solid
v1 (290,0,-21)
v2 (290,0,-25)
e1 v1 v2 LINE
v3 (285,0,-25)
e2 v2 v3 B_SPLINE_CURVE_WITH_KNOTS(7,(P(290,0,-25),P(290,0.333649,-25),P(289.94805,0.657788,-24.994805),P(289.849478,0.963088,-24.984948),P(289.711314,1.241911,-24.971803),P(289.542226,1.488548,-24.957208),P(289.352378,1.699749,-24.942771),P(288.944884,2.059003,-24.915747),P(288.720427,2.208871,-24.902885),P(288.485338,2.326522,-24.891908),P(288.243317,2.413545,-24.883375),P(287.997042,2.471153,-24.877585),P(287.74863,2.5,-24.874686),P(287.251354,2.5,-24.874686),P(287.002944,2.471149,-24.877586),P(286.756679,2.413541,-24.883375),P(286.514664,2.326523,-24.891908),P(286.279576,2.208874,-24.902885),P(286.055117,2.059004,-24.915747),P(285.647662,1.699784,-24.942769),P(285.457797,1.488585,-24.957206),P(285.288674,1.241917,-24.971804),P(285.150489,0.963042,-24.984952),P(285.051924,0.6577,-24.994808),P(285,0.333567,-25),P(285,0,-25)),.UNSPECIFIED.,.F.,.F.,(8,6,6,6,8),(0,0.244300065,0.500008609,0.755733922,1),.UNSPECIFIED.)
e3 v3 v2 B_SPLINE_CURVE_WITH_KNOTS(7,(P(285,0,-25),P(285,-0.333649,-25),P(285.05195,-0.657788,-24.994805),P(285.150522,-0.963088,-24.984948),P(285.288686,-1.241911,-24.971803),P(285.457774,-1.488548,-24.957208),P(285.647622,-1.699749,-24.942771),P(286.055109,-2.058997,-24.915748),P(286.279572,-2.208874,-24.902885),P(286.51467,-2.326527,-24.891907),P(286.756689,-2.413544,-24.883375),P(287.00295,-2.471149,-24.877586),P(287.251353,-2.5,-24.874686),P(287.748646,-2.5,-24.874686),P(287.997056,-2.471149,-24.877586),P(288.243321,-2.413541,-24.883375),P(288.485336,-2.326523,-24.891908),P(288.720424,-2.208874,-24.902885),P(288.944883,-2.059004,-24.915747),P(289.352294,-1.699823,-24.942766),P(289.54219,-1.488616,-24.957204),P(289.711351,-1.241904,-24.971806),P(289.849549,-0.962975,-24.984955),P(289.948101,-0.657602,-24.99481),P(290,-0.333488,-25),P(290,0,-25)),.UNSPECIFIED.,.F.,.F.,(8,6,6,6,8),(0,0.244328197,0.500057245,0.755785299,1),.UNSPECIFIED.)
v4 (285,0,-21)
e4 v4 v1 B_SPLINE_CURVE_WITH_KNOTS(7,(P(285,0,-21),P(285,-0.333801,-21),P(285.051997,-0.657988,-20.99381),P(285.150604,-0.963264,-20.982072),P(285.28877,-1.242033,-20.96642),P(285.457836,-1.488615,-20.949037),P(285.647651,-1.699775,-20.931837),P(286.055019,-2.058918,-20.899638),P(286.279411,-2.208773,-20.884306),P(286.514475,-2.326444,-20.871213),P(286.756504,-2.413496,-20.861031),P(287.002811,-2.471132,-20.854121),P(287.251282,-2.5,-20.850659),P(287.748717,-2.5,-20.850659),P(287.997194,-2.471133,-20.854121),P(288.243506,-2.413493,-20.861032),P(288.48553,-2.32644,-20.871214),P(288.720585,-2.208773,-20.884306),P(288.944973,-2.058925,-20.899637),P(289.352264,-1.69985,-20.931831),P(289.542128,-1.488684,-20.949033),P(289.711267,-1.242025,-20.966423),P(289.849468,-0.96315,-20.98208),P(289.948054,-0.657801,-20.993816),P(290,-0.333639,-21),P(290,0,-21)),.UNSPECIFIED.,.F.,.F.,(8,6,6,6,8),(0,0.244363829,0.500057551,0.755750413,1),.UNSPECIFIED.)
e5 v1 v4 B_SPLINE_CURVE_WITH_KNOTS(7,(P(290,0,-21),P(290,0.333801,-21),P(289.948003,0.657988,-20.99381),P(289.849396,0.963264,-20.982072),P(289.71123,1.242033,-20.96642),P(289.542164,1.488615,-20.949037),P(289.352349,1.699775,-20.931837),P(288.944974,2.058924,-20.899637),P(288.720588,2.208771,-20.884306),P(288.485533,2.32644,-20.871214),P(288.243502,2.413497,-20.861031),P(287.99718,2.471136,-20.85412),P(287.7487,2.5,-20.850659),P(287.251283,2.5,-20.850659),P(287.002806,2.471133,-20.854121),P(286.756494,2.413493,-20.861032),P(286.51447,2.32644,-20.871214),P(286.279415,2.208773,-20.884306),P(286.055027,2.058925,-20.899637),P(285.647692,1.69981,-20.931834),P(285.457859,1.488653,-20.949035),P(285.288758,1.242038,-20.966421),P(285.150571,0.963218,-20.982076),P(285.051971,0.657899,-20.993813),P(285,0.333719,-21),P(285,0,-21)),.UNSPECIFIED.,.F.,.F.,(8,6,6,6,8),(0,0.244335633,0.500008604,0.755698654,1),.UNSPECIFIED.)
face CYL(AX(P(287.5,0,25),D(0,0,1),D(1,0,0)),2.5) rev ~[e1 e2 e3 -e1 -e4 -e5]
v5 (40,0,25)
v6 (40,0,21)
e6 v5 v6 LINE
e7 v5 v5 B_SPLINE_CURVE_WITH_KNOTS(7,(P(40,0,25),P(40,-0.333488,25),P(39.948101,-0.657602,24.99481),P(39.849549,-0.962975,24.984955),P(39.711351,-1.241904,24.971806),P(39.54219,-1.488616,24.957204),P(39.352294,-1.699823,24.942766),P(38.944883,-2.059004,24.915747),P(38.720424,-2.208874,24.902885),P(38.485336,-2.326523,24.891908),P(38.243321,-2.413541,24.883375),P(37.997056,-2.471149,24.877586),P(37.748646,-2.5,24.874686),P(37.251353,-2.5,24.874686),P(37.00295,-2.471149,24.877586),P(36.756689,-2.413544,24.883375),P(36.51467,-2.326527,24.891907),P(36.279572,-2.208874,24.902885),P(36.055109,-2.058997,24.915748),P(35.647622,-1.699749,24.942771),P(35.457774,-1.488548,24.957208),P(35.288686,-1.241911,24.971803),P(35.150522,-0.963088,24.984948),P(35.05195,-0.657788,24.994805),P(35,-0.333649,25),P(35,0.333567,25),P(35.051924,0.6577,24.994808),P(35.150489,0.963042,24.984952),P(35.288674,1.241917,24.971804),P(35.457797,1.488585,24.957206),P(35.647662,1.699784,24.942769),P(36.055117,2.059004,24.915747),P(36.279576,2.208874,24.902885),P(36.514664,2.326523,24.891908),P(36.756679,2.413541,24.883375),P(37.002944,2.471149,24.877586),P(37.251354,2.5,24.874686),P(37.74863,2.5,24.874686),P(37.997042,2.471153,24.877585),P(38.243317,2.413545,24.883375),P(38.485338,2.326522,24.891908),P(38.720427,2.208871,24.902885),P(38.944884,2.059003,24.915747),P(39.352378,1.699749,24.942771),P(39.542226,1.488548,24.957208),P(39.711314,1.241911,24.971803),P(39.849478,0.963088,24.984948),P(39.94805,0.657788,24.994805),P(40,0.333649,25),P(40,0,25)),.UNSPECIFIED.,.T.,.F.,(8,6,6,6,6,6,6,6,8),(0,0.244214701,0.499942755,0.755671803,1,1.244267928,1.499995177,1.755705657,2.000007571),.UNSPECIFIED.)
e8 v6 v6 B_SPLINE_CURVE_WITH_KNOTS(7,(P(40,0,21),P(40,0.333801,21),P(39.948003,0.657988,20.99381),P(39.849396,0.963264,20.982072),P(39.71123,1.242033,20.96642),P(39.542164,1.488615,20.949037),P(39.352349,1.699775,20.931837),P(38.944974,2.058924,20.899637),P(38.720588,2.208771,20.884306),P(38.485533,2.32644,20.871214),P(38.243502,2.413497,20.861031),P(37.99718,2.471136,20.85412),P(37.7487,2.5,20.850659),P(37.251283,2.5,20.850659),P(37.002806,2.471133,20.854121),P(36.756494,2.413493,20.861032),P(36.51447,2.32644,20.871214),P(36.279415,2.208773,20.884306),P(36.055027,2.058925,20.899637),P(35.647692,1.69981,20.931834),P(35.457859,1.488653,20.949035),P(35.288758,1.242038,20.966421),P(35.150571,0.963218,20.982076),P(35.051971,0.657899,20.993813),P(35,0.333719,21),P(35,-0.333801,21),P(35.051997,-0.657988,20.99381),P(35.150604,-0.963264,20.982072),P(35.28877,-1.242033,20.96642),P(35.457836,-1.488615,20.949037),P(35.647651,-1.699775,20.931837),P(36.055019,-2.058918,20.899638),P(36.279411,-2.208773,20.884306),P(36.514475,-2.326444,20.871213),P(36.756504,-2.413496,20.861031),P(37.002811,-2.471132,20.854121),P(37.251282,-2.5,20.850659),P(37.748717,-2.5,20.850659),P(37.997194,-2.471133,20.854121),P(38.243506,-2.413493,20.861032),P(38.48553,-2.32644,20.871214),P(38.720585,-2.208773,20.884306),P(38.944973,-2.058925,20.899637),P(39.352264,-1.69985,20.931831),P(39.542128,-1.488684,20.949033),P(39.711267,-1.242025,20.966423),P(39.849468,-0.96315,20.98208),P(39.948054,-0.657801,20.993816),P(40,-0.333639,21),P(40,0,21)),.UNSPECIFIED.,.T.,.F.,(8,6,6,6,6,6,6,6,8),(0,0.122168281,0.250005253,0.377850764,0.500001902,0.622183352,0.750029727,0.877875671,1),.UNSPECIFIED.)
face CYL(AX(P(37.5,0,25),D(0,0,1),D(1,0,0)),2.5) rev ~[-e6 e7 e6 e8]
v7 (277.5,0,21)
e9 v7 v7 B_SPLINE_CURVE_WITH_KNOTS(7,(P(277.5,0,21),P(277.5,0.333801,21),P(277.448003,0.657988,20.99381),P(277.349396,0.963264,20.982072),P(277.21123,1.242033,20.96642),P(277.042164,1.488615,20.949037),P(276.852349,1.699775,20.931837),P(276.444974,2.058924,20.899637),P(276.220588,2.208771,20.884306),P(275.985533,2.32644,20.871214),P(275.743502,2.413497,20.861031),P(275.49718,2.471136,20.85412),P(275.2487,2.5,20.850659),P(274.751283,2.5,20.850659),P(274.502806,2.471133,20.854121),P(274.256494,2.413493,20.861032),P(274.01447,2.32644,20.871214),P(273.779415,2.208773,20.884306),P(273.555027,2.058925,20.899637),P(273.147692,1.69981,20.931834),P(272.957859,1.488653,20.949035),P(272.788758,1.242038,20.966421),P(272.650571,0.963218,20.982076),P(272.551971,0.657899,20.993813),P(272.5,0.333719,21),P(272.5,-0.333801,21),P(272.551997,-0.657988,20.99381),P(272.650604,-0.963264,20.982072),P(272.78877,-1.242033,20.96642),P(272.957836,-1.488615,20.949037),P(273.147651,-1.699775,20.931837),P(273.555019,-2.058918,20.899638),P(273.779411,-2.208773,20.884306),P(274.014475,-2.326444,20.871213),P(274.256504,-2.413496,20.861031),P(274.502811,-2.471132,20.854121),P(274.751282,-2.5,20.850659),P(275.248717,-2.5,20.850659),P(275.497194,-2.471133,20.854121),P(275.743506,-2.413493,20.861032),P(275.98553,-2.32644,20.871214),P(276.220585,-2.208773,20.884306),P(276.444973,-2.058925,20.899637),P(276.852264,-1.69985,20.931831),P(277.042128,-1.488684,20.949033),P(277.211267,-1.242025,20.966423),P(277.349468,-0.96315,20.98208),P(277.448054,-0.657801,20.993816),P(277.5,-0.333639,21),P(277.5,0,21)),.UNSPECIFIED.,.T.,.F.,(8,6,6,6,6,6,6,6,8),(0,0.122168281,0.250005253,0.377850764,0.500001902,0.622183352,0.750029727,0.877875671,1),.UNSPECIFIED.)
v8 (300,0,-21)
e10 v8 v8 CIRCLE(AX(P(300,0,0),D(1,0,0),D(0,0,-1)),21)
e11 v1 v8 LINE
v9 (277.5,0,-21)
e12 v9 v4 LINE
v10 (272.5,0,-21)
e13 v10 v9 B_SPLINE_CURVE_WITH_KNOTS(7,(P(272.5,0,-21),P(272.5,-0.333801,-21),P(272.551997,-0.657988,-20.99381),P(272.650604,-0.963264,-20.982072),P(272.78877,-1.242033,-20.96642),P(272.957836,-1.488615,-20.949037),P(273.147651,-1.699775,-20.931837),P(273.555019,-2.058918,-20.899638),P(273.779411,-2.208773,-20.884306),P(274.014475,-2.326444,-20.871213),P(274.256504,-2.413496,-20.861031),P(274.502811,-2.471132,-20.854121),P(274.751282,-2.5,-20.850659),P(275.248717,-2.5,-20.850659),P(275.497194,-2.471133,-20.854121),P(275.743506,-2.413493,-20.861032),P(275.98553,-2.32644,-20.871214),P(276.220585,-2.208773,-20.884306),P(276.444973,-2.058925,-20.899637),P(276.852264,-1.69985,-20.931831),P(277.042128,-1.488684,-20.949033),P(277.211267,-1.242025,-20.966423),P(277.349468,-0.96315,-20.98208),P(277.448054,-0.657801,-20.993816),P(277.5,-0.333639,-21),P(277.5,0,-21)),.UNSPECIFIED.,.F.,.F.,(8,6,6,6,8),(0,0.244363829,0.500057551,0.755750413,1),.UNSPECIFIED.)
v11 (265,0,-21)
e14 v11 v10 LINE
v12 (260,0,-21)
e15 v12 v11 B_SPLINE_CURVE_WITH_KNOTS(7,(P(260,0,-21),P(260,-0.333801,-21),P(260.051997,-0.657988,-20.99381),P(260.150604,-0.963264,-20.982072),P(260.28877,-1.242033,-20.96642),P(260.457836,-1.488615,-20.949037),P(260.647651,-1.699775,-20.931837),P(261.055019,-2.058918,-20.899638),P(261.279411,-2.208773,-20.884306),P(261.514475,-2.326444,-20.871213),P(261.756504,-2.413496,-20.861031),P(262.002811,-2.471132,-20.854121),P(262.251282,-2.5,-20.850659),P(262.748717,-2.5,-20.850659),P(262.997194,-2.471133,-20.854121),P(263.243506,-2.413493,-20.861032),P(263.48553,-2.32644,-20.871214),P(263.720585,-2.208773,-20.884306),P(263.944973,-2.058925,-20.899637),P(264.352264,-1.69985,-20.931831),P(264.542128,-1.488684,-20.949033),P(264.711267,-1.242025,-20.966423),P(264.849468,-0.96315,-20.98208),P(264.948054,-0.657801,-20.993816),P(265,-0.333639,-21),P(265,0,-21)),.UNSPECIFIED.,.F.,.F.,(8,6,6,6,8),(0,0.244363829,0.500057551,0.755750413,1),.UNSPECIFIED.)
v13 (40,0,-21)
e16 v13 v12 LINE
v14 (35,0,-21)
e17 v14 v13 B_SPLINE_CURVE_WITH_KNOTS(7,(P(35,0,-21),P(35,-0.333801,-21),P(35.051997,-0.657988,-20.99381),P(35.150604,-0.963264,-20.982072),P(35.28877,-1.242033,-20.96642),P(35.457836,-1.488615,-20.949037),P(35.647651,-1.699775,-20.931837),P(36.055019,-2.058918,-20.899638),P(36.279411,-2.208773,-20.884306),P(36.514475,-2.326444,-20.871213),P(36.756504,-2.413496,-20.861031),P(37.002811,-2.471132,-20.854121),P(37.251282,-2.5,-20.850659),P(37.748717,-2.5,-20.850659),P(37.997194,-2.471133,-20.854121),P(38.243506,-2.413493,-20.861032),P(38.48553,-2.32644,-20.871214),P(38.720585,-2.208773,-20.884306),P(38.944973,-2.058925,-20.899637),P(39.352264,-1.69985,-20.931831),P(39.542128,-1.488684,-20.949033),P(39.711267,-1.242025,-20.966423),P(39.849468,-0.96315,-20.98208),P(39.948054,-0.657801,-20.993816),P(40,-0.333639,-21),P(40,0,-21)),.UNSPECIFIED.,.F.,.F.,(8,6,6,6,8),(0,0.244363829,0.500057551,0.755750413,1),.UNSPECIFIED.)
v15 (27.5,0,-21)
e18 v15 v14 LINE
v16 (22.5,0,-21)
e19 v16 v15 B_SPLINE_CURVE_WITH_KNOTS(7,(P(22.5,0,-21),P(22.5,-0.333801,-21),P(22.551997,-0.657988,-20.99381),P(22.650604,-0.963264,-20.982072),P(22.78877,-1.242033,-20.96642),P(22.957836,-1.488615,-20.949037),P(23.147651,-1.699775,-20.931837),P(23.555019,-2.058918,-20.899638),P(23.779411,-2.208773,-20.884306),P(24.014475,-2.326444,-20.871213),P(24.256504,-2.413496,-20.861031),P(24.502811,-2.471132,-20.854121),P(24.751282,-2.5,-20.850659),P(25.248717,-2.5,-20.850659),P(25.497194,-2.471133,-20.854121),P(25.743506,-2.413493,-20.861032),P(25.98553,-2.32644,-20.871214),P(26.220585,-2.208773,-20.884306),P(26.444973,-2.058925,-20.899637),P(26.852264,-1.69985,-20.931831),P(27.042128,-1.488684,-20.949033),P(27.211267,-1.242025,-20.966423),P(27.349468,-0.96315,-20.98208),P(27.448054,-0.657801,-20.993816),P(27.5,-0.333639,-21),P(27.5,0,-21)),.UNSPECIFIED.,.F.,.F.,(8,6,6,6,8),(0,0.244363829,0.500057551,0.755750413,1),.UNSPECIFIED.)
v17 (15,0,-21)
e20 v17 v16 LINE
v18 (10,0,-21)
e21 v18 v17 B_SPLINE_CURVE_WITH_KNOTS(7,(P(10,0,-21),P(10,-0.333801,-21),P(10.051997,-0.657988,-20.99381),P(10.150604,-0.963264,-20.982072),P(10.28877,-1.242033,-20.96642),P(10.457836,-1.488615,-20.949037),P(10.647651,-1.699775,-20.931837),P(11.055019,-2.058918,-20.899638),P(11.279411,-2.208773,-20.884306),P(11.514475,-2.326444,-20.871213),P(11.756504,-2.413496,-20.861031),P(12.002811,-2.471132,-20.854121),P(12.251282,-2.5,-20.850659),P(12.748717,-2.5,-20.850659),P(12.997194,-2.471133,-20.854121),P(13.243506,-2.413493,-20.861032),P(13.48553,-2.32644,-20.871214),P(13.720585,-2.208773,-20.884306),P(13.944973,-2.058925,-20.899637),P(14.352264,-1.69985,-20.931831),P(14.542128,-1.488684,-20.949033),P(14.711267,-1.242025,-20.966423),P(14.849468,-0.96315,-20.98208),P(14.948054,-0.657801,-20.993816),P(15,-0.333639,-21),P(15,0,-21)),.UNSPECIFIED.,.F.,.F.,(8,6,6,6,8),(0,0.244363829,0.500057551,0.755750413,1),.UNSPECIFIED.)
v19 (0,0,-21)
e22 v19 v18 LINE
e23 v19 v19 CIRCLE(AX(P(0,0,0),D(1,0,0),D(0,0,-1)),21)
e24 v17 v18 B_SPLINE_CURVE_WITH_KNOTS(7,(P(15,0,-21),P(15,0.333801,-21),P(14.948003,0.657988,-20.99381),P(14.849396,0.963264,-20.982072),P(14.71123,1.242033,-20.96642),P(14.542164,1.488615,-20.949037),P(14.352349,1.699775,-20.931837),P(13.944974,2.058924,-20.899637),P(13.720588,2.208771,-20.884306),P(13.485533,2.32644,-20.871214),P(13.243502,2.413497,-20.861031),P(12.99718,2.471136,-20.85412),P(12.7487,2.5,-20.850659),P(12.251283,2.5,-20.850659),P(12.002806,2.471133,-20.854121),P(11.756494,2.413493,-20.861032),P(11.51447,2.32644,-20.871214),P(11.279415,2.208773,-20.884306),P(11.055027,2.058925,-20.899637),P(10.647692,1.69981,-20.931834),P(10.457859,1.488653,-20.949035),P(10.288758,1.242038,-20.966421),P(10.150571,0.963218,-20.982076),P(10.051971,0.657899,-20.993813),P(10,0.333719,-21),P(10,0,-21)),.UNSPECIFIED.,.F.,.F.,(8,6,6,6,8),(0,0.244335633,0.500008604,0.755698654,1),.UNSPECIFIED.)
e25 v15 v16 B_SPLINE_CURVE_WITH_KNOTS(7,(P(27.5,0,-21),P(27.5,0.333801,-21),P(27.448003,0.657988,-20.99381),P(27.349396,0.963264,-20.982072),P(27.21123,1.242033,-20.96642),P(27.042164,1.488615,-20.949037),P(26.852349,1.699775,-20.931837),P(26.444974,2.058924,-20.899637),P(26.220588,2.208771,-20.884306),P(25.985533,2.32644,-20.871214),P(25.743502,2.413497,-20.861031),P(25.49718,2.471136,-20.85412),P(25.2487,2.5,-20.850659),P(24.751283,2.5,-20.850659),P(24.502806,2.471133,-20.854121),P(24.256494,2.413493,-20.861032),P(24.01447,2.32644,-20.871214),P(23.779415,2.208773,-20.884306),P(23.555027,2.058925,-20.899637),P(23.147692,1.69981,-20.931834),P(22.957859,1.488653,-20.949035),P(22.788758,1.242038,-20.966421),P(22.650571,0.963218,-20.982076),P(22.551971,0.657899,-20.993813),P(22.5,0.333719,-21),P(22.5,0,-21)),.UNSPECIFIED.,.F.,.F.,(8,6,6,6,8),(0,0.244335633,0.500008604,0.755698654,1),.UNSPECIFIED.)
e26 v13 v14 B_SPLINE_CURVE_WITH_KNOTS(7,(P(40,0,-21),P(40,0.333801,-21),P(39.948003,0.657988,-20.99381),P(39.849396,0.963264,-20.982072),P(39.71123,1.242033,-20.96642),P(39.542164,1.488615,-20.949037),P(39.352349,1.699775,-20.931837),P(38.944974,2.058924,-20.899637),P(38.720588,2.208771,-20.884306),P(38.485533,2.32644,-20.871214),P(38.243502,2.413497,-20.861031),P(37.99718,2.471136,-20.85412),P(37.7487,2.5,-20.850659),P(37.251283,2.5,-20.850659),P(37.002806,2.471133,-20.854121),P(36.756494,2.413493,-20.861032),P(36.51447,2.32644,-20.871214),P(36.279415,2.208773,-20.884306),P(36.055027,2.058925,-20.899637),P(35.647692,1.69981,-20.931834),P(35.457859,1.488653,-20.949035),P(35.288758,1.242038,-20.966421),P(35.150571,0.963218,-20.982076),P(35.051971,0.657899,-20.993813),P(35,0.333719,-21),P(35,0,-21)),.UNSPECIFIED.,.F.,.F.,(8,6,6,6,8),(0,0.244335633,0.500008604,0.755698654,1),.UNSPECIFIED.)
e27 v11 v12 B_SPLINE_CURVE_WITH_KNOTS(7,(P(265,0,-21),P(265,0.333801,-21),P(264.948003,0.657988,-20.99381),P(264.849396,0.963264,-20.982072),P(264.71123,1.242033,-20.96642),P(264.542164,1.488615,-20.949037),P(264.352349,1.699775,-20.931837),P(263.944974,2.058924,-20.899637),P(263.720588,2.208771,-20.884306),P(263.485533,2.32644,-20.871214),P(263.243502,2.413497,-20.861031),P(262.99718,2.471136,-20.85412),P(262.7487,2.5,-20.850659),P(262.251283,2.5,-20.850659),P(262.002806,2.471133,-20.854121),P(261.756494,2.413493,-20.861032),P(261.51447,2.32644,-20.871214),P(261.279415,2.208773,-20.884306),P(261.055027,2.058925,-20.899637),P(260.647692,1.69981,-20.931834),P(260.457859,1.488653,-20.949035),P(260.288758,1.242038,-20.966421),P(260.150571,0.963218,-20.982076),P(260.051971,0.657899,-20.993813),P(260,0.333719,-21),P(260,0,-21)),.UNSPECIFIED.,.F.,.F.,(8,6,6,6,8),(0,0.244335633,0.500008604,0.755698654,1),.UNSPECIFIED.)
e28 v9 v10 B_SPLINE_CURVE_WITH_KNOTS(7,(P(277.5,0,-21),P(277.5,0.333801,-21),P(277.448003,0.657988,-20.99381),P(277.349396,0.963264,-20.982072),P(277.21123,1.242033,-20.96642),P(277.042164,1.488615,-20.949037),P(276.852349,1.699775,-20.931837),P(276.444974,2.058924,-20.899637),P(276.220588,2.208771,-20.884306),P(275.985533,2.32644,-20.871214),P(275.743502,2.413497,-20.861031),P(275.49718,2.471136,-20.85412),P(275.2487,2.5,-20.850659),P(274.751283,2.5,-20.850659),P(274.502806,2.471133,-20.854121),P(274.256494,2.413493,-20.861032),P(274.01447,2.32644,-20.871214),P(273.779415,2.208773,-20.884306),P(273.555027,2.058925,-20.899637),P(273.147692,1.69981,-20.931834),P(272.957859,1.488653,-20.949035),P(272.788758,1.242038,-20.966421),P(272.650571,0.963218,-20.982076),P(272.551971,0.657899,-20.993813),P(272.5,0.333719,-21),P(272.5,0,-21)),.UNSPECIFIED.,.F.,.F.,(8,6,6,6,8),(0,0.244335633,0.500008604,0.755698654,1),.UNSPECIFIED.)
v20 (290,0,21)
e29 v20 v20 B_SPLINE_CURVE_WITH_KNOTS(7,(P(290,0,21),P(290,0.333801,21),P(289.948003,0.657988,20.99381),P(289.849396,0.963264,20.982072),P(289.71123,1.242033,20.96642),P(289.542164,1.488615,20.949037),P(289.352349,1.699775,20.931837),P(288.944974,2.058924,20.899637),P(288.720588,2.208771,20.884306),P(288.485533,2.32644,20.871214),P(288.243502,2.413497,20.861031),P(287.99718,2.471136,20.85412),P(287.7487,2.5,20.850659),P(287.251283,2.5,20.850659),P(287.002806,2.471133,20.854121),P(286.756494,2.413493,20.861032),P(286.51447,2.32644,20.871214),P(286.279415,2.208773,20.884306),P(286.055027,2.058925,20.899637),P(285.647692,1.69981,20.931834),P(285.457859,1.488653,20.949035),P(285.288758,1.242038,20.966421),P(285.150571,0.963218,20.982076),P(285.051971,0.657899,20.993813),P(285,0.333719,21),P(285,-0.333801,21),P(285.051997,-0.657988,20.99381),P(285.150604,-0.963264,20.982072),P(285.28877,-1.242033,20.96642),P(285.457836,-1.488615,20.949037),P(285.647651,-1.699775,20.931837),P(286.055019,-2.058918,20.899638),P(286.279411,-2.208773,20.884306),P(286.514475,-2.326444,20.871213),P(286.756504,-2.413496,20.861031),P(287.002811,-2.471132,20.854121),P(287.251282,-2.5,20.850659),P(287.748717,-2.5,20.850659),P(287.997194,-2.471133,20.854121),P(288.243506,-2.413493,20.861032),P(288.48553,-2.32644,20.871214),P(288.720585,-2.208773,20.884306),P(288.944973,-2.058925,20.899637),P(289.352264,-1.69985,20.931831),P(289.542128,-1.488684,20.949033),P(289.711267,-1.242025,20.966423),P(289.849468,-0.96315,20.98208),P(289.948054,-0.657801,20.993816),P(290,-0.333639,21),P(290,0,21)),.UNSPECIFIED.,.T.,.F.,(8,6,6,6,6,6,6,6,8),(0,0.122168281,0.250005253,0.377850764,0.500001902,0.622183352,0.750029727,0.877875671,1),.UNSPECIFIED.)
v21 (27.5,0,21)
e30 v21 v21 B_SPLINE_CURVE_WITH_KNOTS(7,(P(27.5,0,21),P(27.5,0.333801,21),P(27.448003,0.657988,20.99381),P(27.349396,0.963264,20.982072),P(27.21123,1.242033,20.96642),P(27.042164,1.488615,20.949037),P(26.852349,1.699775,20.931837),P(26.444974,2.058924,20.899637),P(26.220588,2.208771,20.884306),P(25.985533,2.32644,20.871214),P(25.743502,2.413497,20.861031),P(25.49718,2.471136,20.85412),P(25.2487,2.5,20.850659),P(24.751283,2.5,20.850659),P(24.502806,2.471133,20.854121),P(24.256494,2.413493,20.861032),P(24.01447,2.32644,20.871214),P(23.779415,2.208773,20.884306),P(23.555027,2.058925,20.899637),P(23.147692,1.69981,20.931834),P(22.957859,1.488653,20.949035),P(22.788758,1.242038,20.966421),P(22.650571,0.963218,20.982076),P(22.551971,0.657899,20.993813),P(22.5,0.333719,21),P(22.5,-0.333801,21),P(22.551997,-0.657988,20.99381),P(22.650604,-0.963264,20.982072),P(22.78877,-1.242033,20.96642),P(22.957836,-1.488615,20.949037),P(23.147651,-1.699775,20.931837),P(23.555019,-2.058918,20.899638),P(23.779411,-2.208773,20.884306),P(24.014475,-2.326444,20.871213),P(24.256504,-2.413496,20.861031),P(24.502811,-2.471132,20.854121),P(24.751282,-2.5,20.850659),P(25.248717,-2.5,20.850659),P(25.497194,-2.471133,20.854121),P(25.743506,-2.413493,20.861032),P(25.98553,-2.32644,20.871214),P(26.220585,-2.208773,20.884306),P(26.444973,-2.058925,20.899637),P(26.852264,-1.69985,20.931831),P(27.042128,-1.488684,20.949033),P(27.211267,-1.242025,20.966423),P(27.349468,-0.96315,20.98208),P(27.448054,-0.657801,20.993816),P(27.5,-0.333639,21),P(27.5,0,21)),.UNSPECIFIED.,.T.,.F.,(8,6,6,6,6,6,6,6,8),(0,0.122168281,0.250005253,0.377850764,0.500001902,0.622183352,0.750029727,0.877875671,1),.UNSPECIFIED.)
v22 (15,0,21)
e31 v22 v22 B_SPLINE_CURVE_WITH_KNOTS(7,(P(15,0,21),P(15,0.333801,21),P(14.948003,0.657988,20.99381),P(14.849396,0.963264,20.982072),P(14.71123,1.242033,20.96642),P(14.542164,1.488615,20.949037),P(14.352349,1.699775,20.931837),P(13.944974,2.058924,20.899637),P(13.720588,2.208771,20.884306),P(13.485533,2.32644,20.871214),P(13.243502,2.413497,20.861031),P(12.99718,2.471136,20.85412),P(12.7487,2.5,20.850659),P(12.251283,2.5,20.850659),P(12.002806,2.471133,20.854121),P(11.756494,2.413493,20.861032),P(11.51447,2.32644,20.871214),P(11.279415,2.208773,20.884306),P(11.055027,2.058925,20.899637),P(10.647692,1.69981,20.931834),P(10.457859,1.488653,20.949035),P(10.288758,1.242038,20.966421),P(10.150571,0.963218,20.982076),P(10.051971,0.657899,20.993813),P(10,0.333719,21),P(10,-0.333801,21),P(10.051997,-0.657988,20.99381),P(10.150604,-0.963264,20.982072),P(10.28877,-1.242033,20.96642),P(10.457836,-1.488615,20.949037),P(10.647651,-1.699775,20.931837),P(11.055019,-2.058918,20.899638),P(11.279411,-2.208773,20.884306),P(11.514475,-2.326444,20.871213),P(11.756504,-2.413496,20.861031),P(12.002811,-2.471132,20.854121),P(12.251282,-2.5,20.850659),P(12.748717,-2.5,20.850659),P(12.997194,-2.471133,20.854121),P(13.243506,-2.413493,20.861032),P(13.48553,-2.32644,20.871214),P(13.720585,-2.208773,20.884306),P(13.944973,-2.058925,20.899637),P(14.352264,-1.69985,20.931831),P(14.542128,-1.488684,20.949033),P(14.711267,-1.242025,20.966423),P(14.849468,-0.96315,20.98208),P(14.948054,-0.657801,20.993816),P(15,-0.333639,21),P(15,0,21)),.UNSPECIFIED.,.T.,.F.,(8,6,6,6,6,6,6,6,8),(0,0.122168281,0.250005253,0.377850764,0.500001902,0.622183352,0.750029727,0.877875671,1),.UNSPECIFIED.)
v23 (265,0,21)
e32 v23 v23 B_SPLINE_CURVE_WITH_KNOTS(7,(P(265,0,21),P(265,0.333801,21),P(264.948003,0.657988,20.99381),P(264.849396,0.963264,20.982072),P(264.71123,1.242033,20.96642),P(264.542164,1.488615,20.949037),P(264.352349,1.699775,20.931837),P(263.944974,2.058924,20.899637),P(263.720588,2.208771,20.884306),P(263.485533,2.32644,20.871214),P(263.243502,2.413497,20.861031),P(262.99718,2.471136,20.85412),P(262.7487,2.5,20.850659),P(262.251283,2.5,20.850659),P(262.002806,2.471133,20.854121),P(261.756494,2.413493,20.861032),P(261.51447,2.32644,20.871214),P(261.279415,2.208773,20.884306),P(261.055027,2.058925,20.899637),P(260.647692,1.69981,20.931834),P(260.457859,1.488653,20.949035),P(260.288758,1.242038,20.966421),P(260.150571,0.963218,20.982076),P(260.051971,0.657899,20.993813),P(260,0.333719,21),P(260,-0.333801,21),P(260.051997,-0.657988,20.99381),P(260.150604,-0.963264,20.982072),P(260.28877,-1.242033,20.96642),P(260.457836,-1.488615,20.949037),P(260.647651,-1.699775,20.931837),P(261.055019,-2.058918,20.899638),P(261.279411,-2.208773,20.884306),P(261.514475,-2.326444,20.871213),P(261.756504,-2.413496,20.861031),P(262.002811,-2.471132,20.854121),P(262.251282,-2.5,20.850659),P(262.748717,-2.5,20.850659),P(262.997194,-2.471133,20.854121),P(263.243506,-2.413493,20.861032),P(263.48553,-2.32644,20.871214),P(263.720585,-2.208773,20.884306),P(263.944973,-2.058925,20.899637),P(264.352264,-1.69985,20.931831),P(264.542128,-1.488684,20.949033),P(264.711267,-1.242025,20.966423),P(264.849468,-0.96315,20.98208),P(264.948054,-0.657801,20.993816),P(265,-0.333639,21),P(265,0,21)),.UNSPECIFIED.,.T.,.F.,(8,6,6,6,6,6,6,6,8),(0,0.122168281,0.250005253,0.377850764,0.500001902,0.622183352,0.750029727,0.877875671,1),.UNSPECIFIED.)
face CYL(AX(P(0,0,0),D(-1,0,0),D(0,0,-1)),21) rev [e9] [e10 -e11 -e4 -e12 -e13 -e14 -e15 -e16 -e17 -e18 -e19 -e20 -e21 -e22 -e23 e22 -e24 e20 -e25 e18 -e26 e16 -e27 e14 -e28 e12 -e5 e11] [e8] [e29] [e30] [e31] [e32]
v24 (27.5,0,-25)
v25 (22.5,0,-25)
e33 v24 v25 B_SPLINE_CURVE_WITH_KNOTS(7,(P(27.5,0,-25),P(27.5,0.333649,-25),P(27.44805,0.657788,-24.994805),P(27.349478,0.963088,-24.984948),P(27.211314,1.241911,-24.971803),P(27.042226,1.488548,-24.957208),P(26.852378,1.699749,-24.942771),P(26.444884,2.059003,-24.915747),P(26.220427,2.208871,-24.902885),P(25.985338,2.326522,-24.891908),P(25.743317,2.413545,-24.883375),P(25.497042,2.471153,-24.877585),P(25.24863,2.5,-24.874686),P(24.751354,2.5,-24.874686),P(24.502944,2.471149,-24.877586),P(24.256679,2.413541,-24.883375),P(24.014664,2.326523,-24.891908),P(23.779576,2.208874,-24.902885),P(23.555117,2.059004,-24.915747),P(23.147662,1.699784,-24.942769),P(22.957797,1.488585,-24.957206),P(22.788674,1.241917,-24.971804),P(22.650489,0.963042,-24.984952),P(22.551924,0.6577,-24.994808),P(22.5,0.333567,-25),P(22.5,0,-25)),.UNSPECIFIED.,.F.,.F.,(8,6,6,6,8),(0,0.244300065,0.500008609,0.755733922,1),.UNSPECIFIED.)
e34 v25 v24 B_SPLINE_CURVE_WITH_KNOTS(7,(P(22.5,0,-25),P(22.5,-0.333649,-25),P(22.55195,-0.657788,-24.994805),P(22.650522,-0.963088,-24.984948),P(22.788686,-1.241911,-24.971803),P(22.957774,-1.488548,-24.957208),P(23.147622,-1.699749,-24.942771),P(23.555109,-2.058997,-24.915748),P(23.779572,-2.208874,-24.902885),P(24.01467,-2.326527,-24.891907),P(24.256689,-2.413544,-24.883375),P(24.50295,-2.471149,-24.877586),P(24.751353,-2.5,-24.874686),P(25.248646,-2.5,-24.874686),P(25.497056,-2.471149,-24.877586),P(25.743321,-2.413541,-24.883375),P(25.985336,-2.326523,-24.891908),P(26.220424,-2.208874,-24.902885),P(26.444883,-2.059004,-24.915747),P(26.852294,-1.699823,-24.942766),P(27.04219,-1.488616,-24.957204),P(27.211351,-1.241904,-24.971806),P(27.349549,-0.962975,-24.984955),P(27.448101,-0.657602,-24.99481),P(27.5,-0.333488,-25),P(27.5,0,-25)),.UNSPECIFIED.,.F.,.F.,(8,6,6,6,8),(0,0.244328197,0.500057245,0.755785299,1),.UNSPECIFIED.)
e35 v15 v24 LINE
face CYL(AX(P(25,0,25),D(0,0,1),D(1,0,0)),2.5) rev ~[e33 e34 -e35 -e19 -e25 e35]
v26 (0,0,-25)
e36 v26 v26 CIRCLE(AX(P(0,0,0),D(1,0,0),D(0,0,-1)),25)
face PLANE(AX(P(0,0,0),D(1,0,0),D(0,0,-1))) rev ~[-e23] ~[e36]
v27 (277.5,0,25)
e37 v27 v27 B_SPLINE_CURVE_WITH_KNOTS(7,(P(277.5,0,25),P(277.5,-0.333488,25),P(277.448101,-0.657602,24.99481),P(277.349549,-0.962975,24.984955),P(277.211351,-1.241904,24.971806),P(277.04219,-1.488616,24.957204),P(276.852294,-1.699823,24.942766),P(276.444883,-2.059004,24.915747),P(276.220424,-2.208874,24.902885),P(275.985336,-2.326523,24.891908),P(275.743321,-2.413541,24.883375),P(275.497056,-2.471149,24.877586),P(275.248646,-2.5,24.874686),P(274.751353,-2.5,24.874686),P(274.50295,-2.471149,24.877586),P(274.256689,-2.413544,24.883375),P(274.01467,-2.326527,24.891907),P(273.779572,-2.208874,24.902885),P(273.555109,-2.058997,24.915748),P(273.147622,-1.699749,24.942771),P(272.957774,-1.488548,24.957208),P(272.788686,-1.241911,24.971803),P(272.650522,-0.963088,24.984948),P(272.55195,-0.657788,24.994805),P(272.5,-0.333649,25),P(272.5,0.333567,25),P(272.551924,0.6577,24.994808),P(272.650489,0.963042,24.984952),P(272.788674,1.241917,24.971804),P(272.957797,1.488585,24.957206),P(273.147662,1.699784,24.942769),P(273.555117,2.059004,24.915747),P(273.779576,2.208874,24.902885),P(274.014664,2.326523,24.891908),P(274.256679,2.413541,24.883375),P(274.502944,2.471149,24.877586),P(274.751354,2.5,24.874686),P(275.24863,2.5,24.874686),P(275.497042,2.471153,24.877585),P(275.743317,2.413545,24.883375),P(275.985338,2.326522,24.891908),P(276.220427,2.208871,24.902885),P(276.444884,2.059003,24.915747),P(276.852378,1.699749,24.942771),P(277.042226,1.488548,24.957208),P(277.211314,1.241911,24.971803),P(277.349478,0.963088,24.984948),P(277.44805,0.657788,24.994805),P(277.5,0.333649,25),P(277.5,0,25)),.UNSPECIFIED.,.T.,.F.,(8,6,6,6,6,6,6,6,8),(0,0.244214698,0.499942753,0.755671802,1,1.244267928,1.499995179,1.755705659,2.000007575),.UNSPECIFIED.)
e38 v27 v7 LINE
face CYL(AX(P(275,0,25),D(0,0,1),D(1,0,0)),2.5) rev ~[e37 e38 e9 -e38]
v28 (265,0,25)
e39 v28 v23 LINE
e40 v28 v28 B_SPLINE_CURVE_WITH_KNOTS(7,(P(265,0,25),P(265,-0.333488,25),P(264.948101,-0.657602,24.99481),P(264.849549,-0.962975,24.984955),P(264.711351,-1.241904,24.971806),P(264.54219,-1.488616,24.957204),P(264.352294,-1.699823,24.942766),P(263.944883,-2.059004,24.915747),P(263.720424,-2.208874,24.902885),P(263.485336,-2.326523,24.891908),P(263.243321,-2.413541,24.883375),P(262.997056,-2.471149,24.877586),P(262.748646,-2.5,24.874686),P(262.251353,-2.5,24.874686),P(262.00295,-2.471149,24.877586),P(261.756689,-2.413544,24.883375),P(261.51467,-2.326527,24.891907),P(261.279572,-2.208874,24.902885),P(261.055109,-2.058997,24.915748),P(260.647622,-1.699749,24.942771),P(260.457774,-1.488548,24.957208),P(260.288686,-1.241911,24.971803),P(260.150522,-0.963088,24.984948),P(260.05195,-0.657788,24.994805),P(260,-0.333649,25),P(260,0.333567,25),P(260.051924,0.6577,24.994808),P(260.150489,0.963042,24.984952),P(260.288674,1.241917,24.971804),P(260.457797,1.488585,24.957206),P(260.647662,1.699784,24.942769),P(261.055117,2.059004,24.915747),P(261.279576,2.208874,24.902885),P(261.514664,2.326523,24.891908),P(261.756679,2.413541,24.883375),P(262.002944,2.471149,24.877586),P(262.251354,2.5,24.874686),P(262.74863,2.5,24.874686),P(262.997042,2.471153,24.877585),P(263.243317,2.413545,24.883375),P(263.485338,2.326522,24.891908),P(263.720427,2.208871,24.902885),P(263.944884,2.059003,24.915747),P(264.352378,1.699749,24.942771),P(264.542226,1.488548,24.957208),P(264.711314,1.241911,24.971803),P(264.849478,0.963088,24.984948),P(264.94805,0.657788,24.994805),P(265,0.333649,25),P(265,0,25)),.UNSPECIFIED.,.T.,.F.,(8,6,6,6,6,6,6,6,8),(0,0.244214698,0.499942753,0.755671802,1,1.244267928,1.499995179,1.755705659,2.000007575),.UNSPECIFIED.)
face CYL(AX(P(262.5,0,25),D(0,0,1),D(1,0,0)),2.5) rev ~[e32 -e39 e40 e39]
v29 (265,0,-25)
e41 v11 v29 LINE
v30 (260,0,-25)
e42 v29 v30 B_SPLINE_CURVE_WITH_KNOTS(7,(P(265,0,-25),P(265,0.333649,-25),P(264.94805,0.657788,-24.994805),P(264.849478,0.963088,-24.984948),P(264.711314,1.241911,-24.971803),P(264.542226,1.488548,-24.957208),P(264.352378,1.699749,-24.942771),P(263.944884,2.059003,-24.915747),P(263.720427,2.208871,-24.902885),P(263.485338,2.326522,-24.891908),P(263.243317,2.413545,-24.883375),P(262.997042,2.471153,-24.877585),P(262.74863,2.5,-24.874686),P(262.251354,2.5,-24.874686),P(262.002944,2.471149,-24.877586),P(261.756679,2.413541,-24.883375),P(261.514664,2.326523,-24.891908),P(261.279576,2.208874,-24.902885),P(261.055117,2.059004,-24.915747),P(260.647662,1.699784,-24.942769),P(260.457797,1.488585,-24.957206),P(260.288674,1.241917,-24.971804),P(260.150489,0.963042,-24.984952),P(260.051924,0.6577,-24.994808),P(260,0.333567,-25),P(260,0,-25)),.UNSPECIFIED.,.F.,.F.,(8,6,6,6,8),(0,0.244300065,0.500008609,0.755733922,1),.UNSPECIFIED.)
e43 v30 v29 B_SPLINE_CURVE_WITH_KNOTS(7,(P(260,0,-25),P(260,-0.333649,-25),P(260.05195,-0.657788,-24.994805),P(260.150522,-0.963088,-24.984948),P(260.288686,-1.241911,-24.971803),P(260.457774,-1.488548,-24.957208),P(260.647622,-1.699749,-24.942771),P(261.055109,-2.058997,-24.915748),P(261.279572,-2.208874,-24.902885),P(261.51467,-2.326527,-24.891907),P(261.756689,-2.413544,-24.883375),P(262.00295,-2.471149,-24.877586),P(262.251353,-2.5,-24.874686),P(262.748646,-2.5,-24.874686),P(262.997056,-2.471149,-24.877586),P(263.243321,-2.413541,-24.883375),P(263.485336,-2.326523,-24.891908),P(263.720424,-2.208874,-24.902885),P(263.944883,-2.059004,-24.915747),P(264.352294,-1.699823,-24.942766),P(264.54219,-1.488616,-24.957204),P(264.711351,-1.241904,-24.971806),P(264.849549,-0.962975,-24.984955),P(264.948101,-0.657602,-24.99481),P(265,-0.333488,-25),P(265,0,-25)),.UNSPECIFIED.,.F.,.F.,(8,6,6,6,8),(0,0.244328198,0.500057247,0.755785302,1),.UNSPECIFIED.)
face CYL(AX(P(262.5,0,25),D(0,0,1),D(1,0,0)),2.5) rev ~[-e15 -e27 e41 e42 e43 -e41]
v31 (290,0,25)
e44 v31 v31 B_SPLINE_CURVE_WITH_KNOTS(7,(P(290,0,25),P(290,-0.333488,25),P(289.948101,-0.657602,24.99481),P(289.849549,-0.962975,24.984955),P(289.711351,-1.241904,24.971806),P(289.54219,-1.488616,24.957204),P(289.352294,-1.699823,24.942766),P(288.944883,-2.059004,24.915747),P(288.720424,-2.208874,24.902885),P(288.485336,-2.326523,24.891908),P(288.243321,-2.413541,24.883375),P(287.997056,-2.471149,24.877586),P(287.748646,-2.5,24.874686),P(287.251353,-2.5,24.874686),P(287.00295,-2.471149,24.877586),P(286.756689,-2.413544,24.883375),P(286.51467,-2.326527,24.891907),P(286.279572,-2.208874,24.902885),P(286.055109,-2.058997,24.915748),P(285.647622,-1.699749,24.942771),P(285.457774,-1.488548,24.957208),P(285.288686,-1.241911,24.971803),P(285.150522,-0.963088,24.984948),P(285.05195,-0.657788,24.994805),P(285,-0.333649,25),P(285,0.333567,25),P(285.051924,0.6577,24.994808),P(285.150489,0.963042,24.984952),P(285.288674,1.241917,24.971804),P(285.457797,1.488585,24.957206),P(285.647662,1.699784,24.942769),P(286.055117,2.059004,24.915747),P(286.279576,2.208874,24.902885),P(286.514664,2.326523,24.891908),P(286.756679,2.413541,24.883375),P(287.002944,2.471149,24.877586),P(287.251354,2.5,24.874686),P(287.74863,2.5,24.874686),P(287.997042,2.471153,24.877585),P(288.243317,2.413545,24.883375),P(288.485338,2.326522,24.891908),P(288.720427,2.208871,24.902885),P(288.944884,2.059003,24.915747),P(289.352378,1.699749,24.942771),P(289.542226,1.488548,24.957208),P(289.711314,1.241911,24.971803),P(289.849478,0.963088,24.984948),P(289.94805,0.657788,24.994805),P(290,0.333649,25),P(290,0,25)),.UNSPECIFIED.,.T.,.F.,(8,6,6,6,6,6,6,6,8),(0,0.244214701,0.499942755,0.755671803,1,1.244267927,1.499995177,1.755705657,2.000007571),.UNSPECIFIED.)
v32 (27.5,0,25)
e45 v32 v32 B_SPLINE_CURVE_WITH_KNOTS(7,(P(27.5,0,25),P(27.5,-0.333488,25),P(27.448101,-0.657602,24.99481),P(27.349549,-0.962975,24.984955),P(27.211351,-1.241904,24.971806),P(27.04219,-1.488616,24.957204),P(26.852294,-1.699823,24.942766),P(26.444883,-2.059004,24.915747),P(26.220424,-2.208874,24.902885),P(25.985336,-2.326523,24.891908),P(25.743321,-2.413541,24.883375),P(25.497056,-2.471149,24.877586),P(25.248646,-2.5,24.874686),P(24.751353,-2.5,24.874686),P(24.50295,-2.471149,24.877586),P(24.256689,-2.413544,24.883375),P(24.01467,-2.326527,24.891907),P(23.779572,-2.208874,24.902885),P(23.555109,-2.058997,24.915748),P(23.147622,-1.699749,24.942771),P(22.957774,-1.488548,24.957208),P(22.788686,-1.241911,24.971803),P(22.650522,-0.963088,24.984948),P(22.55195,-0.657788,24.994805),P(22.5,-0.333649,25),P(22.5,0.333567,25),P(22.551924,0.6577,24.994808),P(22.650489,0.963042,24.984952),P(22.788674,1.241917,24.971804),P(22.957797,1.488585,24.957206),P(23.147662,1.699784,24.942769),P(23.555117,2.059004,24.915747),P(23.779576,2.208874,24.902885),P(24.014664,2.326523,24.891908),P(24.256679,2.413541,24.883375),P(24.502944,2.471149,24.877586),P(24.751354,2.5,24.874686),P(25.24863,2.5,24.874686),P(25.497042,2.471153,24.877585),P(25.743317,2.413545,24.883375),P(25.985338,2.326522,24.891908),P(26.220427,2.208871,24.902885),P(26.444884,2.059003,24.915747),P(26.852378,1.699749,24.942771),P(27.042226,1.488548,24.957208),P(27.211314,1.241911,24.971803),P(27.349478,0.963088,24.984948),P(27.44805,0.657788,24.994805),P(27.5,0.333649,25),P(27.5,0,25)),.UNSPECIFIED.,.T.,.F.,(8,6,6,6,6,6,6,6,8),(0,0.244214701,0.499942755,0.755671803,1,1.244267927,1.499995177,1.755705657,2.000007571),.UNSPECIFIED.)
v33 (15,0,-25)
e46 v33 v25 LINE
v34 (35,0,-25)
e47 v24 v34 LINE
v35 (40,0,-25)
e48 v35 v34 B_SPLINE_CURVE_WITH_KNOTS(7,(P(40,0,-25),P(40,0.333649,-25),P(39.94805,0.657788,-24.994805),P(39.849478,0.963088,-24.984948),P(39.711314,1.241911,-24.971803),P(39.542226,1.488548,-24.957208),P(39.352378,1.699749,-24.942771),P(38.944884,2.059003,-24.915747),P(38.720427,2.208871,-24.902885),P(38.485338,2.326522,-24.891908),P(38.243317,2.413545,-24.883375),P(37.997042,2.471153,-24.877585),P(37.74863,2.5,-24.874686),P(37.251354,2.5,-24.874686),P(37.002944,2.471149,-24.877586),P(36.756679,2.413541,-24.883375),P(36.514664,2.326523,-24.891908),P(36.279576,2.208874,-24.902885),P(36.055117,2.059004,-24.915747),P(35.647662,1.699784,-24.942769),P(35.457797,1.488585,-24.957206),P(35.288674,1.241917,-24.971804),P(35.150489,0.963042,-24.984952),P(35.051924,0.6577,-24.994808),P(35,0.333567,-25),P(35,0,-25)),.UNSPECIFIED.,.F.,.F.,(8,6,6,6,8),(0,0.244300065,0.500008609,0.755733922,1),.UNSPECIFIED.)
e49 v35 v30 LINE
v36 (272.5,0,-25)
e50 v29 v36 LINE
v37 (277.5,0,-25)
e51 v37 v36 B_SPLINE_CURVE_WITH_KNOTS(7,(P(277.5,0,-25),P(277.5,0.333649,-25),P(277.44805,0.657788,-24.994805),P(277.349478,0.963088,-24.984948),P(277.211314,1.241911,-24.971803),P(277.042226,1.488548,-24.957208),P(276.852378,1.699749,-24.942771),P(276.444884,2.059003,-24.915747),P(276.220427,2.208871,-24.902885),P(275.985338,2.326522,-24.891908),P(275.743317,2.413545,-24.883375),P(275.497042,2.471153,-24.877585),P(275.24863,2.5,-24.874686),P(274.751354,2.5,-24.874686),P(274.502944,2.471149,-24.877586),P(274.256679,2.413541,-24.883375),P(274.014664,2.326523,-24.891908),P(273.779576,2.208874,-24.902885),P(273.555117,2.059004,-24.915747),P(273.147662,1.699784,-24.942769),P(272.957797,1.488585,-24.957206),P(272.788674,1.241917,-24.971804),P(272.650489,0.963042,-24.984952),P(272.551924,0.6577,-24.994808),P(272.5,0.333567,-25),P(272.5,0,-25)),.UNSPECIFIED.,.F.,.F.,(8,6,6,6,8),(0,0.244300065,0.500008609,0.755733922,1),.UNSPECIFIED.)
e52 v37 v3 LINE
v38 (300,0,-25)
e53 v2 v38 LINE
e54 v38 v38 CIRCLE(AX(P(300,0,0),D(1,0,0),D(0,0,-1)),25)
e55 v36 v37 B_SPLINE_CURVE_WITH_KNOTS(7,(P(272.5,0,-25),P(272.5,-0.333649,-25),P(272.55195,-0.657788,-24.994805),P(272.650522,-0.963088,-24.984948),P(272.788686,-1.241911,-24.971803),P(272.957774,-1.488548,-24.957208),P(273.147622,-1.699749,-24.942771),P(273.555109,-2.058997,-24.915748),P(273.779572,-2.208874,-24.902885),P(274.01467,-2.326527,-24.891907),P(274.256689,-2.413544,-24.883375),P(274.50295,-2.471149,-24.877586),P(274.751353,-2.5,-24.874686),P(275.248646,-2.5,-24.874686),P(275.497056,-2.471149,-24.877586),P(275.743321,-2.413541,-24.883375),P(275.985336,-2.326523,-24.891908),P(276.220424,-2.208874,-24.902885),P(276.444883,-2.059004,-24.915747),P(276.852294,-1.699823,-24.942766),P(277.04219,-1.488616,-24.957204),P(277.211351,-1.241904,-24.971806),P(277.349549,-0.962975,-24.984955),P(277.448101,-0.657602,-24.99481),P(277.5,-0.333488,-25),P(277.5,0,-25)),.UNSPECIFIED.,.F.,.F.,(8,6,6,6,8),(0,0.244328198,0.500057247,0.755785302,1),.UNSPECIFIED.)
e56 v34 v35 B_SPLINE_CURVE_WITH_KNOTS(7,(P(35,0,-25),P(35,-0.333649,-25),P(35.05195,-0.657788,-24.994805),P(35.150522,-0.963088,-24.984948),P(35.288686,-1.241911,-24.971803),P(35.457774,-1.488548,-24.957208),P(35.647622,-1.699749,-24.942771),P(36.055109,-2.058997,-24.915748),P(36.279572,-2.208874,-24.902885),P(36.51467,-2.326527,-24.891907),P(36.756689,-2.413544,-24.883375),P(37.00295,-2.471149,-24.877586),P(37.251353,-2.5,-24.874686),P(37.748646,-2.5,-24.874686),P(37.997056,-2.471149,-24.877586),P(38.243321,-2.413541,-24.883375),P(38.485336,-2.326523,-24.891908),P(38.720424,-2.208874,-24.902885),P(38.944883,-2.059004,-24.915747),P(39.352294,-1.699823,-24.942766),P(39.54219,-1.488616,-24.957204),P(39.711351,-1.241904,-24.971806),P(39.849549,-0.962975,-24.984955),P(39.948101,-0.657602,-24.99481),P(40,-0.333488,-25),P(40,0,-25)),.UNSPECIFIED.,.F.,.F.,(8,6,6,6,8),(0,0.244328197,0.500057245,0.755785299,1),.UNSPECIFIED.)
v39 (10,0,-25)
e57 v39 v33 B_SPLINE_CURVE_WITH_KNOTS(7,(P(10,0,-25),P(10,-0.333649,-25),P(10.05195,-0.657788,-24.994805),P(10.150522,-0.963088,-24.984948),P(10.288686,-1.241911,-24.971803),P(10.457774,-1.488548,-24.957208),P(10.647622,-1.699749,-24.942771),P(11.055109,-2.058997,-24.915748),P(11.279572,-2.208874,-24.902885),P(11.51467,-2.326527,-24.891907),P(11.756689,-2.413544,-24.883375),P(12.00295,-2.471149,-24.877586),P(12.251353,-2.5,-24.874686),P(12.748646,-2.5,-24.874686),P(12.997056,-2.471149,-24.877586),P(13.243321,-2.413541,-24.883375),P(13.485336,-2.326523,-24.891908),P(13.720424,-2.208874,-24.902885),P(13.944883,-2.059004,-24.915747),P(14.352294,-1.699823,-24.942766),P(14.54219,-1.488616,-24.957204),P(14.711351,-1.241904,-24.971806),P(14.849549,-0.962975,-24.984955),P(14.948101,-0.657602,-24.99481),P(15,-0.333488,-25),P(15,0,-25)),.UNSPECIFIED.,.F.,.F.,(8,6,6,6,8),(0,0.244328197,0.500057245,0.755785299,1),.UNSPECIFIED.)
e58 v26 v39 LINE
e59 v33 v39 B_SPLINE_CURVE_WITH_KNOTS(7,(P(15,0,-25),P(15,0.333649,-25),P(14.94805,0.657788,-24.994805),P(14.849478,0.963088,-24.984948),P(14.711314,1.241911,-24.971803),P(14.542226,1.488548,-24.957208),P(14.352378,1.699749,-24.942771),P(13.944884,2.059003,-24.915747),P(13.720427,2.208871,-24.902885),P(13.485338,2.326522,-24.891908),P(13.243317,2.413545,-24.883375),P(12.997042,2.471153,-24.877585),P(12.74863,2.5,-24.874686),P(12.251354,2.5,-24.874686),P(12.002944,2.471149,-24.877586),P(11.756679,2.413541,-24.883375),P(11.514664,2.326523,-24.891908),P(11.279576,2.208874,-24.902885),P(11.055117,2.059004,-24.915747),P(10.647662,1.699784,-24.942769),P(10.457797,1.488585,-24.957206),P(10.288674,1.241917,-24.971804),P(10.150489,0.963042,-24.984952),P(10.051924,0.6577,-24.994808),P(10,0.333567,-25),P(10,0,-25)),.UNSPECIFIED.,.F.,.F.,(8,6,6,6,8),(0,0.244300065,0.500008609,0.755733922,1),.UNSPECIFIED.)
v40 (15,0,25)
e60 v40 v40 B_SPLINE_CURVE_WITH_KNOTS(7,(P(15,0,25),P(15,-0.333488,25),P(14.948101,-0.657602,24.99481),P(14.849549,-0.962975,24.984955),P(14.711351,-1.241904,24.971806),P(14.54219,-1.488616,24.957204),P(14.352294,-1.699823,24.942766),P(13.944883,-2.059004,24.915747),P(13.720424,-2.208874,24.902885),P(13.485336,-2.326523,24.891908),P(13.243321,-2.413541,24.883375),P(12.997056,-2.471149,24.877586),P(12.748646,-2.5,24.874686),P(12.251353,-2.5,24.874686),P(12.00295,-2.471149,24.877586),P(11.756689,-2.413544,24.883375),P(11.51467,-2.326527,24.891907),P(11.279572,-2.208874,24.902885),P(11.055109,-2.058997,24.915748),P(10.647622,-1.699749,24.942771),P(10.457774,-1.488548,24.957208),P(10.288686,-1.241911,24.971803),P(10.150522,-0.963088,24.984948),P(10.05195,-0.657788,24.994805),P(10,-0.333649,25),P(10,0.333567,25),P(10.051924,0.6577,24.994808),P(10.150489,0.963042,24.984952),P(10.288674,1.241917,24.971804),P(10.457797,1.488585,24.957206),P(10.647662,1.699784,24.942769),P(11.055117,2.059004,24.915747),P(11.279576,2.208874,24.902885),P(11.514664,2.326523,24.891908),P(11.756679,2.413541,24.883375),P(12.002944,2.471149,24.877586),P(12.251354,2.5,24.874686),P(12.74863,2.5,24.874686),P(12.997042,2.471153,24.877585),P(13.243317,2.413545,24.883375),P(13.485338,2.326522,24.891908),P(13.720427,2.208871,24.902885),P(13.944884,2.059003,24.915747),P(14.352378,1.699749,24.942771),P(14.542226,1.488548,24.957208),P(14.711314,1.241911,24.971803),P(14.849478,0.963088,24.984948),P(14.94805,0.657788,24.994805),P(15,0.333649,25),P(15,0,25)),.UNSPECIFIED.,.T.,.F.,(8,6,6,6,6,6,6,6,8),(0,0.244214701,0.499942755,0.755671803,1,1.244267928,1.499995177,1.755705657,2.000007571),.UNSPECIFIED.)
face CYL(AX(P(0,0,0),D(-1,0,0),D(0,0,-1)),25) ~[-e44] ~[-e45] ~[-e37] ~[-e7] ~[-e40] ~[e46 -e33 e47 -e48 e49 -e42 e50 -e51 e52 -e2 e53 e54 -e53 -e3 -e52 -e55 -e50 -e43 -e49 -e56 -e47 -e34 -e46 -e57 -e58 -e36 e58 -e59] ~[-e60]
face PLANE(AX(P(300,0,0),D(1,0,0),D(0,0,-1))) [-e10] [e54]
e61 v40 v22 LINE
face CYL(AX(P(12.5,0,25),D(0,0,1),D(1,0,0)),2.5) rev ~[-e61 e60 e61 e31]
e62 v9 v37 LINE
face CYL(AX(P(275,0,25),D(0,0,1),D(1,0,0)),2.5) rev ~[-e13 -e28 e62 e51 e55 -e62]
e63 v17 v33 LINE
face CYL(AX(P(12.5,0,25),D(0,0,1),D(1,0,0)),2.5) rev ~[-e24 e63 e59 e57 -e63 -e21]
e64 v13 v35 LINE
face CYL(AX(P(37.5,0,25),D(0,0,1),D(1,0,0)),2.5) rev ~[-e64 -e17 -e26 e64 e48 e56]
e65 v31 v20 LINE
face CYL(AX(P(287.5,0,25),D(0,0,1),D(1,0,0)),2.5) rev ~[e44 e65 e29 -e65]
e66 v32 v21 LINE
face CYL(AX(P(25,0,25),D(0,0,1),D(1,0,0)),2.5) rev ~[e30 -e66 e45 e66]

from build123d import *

# Parameters (mm, degrees)
SKETCH_2_R               = 25
SKETCH_2_R_2             = 21
EXTRUDE_2_DEPTH          = 300
SKETCH_4_R               = 2.5
CUT_EXTRUDE_2_DEPTH      = 10
CUT_EXTRUDE_2_DEPTH_BACK = 51


with BuildPart() as part:
    # Эскиз2 → Бобышка-Вытянуть2 (new body)
    with BuildSketch(Plane(origin=(0, 0, 0), x_dir=(0, 0, -1), z_dir=(1, 0, 0))):
        Circle(SKETCH_2_R)
        Circle(SKETCH_2_R_2, mode=Mode.SUBTRACT)
    extrude(amount=EXTRUDE_2_DEPTH)

    # Эскиз4 → Вырез-Вытянуть2 (cut, two sides)
    with BuildSketch(Plane.XY.offset(25)) as cut_extrude_2_sk:
        with Locations((12.5, 0)):
            Circle(SKETCH_4_R)
        with Locations((287.5, 0)):
            Circle(SKETCH_4_R)
        with Locations((25, 0)):
            Circle(SKETCH_4_R)
        with Locations((37.5, 0)):
            Circle(SKETCH_4_R)
        with Locations((275, 0)):
            Circle(SKETCH_4_R)
        with Locations((262.5, 0)):
            Circle(SKETCH_4_R)
    extrude(amount=CUT_EXTRUDE_2_DEPTH, mode=Mode.SUBTRACT)
    extrude(cut_extrude_2_sk.sketch, amount=-CUT_EXTRUDE_2_DEPTH_BACK, mode=Mode.SUBTRACT)


solid = part.part
